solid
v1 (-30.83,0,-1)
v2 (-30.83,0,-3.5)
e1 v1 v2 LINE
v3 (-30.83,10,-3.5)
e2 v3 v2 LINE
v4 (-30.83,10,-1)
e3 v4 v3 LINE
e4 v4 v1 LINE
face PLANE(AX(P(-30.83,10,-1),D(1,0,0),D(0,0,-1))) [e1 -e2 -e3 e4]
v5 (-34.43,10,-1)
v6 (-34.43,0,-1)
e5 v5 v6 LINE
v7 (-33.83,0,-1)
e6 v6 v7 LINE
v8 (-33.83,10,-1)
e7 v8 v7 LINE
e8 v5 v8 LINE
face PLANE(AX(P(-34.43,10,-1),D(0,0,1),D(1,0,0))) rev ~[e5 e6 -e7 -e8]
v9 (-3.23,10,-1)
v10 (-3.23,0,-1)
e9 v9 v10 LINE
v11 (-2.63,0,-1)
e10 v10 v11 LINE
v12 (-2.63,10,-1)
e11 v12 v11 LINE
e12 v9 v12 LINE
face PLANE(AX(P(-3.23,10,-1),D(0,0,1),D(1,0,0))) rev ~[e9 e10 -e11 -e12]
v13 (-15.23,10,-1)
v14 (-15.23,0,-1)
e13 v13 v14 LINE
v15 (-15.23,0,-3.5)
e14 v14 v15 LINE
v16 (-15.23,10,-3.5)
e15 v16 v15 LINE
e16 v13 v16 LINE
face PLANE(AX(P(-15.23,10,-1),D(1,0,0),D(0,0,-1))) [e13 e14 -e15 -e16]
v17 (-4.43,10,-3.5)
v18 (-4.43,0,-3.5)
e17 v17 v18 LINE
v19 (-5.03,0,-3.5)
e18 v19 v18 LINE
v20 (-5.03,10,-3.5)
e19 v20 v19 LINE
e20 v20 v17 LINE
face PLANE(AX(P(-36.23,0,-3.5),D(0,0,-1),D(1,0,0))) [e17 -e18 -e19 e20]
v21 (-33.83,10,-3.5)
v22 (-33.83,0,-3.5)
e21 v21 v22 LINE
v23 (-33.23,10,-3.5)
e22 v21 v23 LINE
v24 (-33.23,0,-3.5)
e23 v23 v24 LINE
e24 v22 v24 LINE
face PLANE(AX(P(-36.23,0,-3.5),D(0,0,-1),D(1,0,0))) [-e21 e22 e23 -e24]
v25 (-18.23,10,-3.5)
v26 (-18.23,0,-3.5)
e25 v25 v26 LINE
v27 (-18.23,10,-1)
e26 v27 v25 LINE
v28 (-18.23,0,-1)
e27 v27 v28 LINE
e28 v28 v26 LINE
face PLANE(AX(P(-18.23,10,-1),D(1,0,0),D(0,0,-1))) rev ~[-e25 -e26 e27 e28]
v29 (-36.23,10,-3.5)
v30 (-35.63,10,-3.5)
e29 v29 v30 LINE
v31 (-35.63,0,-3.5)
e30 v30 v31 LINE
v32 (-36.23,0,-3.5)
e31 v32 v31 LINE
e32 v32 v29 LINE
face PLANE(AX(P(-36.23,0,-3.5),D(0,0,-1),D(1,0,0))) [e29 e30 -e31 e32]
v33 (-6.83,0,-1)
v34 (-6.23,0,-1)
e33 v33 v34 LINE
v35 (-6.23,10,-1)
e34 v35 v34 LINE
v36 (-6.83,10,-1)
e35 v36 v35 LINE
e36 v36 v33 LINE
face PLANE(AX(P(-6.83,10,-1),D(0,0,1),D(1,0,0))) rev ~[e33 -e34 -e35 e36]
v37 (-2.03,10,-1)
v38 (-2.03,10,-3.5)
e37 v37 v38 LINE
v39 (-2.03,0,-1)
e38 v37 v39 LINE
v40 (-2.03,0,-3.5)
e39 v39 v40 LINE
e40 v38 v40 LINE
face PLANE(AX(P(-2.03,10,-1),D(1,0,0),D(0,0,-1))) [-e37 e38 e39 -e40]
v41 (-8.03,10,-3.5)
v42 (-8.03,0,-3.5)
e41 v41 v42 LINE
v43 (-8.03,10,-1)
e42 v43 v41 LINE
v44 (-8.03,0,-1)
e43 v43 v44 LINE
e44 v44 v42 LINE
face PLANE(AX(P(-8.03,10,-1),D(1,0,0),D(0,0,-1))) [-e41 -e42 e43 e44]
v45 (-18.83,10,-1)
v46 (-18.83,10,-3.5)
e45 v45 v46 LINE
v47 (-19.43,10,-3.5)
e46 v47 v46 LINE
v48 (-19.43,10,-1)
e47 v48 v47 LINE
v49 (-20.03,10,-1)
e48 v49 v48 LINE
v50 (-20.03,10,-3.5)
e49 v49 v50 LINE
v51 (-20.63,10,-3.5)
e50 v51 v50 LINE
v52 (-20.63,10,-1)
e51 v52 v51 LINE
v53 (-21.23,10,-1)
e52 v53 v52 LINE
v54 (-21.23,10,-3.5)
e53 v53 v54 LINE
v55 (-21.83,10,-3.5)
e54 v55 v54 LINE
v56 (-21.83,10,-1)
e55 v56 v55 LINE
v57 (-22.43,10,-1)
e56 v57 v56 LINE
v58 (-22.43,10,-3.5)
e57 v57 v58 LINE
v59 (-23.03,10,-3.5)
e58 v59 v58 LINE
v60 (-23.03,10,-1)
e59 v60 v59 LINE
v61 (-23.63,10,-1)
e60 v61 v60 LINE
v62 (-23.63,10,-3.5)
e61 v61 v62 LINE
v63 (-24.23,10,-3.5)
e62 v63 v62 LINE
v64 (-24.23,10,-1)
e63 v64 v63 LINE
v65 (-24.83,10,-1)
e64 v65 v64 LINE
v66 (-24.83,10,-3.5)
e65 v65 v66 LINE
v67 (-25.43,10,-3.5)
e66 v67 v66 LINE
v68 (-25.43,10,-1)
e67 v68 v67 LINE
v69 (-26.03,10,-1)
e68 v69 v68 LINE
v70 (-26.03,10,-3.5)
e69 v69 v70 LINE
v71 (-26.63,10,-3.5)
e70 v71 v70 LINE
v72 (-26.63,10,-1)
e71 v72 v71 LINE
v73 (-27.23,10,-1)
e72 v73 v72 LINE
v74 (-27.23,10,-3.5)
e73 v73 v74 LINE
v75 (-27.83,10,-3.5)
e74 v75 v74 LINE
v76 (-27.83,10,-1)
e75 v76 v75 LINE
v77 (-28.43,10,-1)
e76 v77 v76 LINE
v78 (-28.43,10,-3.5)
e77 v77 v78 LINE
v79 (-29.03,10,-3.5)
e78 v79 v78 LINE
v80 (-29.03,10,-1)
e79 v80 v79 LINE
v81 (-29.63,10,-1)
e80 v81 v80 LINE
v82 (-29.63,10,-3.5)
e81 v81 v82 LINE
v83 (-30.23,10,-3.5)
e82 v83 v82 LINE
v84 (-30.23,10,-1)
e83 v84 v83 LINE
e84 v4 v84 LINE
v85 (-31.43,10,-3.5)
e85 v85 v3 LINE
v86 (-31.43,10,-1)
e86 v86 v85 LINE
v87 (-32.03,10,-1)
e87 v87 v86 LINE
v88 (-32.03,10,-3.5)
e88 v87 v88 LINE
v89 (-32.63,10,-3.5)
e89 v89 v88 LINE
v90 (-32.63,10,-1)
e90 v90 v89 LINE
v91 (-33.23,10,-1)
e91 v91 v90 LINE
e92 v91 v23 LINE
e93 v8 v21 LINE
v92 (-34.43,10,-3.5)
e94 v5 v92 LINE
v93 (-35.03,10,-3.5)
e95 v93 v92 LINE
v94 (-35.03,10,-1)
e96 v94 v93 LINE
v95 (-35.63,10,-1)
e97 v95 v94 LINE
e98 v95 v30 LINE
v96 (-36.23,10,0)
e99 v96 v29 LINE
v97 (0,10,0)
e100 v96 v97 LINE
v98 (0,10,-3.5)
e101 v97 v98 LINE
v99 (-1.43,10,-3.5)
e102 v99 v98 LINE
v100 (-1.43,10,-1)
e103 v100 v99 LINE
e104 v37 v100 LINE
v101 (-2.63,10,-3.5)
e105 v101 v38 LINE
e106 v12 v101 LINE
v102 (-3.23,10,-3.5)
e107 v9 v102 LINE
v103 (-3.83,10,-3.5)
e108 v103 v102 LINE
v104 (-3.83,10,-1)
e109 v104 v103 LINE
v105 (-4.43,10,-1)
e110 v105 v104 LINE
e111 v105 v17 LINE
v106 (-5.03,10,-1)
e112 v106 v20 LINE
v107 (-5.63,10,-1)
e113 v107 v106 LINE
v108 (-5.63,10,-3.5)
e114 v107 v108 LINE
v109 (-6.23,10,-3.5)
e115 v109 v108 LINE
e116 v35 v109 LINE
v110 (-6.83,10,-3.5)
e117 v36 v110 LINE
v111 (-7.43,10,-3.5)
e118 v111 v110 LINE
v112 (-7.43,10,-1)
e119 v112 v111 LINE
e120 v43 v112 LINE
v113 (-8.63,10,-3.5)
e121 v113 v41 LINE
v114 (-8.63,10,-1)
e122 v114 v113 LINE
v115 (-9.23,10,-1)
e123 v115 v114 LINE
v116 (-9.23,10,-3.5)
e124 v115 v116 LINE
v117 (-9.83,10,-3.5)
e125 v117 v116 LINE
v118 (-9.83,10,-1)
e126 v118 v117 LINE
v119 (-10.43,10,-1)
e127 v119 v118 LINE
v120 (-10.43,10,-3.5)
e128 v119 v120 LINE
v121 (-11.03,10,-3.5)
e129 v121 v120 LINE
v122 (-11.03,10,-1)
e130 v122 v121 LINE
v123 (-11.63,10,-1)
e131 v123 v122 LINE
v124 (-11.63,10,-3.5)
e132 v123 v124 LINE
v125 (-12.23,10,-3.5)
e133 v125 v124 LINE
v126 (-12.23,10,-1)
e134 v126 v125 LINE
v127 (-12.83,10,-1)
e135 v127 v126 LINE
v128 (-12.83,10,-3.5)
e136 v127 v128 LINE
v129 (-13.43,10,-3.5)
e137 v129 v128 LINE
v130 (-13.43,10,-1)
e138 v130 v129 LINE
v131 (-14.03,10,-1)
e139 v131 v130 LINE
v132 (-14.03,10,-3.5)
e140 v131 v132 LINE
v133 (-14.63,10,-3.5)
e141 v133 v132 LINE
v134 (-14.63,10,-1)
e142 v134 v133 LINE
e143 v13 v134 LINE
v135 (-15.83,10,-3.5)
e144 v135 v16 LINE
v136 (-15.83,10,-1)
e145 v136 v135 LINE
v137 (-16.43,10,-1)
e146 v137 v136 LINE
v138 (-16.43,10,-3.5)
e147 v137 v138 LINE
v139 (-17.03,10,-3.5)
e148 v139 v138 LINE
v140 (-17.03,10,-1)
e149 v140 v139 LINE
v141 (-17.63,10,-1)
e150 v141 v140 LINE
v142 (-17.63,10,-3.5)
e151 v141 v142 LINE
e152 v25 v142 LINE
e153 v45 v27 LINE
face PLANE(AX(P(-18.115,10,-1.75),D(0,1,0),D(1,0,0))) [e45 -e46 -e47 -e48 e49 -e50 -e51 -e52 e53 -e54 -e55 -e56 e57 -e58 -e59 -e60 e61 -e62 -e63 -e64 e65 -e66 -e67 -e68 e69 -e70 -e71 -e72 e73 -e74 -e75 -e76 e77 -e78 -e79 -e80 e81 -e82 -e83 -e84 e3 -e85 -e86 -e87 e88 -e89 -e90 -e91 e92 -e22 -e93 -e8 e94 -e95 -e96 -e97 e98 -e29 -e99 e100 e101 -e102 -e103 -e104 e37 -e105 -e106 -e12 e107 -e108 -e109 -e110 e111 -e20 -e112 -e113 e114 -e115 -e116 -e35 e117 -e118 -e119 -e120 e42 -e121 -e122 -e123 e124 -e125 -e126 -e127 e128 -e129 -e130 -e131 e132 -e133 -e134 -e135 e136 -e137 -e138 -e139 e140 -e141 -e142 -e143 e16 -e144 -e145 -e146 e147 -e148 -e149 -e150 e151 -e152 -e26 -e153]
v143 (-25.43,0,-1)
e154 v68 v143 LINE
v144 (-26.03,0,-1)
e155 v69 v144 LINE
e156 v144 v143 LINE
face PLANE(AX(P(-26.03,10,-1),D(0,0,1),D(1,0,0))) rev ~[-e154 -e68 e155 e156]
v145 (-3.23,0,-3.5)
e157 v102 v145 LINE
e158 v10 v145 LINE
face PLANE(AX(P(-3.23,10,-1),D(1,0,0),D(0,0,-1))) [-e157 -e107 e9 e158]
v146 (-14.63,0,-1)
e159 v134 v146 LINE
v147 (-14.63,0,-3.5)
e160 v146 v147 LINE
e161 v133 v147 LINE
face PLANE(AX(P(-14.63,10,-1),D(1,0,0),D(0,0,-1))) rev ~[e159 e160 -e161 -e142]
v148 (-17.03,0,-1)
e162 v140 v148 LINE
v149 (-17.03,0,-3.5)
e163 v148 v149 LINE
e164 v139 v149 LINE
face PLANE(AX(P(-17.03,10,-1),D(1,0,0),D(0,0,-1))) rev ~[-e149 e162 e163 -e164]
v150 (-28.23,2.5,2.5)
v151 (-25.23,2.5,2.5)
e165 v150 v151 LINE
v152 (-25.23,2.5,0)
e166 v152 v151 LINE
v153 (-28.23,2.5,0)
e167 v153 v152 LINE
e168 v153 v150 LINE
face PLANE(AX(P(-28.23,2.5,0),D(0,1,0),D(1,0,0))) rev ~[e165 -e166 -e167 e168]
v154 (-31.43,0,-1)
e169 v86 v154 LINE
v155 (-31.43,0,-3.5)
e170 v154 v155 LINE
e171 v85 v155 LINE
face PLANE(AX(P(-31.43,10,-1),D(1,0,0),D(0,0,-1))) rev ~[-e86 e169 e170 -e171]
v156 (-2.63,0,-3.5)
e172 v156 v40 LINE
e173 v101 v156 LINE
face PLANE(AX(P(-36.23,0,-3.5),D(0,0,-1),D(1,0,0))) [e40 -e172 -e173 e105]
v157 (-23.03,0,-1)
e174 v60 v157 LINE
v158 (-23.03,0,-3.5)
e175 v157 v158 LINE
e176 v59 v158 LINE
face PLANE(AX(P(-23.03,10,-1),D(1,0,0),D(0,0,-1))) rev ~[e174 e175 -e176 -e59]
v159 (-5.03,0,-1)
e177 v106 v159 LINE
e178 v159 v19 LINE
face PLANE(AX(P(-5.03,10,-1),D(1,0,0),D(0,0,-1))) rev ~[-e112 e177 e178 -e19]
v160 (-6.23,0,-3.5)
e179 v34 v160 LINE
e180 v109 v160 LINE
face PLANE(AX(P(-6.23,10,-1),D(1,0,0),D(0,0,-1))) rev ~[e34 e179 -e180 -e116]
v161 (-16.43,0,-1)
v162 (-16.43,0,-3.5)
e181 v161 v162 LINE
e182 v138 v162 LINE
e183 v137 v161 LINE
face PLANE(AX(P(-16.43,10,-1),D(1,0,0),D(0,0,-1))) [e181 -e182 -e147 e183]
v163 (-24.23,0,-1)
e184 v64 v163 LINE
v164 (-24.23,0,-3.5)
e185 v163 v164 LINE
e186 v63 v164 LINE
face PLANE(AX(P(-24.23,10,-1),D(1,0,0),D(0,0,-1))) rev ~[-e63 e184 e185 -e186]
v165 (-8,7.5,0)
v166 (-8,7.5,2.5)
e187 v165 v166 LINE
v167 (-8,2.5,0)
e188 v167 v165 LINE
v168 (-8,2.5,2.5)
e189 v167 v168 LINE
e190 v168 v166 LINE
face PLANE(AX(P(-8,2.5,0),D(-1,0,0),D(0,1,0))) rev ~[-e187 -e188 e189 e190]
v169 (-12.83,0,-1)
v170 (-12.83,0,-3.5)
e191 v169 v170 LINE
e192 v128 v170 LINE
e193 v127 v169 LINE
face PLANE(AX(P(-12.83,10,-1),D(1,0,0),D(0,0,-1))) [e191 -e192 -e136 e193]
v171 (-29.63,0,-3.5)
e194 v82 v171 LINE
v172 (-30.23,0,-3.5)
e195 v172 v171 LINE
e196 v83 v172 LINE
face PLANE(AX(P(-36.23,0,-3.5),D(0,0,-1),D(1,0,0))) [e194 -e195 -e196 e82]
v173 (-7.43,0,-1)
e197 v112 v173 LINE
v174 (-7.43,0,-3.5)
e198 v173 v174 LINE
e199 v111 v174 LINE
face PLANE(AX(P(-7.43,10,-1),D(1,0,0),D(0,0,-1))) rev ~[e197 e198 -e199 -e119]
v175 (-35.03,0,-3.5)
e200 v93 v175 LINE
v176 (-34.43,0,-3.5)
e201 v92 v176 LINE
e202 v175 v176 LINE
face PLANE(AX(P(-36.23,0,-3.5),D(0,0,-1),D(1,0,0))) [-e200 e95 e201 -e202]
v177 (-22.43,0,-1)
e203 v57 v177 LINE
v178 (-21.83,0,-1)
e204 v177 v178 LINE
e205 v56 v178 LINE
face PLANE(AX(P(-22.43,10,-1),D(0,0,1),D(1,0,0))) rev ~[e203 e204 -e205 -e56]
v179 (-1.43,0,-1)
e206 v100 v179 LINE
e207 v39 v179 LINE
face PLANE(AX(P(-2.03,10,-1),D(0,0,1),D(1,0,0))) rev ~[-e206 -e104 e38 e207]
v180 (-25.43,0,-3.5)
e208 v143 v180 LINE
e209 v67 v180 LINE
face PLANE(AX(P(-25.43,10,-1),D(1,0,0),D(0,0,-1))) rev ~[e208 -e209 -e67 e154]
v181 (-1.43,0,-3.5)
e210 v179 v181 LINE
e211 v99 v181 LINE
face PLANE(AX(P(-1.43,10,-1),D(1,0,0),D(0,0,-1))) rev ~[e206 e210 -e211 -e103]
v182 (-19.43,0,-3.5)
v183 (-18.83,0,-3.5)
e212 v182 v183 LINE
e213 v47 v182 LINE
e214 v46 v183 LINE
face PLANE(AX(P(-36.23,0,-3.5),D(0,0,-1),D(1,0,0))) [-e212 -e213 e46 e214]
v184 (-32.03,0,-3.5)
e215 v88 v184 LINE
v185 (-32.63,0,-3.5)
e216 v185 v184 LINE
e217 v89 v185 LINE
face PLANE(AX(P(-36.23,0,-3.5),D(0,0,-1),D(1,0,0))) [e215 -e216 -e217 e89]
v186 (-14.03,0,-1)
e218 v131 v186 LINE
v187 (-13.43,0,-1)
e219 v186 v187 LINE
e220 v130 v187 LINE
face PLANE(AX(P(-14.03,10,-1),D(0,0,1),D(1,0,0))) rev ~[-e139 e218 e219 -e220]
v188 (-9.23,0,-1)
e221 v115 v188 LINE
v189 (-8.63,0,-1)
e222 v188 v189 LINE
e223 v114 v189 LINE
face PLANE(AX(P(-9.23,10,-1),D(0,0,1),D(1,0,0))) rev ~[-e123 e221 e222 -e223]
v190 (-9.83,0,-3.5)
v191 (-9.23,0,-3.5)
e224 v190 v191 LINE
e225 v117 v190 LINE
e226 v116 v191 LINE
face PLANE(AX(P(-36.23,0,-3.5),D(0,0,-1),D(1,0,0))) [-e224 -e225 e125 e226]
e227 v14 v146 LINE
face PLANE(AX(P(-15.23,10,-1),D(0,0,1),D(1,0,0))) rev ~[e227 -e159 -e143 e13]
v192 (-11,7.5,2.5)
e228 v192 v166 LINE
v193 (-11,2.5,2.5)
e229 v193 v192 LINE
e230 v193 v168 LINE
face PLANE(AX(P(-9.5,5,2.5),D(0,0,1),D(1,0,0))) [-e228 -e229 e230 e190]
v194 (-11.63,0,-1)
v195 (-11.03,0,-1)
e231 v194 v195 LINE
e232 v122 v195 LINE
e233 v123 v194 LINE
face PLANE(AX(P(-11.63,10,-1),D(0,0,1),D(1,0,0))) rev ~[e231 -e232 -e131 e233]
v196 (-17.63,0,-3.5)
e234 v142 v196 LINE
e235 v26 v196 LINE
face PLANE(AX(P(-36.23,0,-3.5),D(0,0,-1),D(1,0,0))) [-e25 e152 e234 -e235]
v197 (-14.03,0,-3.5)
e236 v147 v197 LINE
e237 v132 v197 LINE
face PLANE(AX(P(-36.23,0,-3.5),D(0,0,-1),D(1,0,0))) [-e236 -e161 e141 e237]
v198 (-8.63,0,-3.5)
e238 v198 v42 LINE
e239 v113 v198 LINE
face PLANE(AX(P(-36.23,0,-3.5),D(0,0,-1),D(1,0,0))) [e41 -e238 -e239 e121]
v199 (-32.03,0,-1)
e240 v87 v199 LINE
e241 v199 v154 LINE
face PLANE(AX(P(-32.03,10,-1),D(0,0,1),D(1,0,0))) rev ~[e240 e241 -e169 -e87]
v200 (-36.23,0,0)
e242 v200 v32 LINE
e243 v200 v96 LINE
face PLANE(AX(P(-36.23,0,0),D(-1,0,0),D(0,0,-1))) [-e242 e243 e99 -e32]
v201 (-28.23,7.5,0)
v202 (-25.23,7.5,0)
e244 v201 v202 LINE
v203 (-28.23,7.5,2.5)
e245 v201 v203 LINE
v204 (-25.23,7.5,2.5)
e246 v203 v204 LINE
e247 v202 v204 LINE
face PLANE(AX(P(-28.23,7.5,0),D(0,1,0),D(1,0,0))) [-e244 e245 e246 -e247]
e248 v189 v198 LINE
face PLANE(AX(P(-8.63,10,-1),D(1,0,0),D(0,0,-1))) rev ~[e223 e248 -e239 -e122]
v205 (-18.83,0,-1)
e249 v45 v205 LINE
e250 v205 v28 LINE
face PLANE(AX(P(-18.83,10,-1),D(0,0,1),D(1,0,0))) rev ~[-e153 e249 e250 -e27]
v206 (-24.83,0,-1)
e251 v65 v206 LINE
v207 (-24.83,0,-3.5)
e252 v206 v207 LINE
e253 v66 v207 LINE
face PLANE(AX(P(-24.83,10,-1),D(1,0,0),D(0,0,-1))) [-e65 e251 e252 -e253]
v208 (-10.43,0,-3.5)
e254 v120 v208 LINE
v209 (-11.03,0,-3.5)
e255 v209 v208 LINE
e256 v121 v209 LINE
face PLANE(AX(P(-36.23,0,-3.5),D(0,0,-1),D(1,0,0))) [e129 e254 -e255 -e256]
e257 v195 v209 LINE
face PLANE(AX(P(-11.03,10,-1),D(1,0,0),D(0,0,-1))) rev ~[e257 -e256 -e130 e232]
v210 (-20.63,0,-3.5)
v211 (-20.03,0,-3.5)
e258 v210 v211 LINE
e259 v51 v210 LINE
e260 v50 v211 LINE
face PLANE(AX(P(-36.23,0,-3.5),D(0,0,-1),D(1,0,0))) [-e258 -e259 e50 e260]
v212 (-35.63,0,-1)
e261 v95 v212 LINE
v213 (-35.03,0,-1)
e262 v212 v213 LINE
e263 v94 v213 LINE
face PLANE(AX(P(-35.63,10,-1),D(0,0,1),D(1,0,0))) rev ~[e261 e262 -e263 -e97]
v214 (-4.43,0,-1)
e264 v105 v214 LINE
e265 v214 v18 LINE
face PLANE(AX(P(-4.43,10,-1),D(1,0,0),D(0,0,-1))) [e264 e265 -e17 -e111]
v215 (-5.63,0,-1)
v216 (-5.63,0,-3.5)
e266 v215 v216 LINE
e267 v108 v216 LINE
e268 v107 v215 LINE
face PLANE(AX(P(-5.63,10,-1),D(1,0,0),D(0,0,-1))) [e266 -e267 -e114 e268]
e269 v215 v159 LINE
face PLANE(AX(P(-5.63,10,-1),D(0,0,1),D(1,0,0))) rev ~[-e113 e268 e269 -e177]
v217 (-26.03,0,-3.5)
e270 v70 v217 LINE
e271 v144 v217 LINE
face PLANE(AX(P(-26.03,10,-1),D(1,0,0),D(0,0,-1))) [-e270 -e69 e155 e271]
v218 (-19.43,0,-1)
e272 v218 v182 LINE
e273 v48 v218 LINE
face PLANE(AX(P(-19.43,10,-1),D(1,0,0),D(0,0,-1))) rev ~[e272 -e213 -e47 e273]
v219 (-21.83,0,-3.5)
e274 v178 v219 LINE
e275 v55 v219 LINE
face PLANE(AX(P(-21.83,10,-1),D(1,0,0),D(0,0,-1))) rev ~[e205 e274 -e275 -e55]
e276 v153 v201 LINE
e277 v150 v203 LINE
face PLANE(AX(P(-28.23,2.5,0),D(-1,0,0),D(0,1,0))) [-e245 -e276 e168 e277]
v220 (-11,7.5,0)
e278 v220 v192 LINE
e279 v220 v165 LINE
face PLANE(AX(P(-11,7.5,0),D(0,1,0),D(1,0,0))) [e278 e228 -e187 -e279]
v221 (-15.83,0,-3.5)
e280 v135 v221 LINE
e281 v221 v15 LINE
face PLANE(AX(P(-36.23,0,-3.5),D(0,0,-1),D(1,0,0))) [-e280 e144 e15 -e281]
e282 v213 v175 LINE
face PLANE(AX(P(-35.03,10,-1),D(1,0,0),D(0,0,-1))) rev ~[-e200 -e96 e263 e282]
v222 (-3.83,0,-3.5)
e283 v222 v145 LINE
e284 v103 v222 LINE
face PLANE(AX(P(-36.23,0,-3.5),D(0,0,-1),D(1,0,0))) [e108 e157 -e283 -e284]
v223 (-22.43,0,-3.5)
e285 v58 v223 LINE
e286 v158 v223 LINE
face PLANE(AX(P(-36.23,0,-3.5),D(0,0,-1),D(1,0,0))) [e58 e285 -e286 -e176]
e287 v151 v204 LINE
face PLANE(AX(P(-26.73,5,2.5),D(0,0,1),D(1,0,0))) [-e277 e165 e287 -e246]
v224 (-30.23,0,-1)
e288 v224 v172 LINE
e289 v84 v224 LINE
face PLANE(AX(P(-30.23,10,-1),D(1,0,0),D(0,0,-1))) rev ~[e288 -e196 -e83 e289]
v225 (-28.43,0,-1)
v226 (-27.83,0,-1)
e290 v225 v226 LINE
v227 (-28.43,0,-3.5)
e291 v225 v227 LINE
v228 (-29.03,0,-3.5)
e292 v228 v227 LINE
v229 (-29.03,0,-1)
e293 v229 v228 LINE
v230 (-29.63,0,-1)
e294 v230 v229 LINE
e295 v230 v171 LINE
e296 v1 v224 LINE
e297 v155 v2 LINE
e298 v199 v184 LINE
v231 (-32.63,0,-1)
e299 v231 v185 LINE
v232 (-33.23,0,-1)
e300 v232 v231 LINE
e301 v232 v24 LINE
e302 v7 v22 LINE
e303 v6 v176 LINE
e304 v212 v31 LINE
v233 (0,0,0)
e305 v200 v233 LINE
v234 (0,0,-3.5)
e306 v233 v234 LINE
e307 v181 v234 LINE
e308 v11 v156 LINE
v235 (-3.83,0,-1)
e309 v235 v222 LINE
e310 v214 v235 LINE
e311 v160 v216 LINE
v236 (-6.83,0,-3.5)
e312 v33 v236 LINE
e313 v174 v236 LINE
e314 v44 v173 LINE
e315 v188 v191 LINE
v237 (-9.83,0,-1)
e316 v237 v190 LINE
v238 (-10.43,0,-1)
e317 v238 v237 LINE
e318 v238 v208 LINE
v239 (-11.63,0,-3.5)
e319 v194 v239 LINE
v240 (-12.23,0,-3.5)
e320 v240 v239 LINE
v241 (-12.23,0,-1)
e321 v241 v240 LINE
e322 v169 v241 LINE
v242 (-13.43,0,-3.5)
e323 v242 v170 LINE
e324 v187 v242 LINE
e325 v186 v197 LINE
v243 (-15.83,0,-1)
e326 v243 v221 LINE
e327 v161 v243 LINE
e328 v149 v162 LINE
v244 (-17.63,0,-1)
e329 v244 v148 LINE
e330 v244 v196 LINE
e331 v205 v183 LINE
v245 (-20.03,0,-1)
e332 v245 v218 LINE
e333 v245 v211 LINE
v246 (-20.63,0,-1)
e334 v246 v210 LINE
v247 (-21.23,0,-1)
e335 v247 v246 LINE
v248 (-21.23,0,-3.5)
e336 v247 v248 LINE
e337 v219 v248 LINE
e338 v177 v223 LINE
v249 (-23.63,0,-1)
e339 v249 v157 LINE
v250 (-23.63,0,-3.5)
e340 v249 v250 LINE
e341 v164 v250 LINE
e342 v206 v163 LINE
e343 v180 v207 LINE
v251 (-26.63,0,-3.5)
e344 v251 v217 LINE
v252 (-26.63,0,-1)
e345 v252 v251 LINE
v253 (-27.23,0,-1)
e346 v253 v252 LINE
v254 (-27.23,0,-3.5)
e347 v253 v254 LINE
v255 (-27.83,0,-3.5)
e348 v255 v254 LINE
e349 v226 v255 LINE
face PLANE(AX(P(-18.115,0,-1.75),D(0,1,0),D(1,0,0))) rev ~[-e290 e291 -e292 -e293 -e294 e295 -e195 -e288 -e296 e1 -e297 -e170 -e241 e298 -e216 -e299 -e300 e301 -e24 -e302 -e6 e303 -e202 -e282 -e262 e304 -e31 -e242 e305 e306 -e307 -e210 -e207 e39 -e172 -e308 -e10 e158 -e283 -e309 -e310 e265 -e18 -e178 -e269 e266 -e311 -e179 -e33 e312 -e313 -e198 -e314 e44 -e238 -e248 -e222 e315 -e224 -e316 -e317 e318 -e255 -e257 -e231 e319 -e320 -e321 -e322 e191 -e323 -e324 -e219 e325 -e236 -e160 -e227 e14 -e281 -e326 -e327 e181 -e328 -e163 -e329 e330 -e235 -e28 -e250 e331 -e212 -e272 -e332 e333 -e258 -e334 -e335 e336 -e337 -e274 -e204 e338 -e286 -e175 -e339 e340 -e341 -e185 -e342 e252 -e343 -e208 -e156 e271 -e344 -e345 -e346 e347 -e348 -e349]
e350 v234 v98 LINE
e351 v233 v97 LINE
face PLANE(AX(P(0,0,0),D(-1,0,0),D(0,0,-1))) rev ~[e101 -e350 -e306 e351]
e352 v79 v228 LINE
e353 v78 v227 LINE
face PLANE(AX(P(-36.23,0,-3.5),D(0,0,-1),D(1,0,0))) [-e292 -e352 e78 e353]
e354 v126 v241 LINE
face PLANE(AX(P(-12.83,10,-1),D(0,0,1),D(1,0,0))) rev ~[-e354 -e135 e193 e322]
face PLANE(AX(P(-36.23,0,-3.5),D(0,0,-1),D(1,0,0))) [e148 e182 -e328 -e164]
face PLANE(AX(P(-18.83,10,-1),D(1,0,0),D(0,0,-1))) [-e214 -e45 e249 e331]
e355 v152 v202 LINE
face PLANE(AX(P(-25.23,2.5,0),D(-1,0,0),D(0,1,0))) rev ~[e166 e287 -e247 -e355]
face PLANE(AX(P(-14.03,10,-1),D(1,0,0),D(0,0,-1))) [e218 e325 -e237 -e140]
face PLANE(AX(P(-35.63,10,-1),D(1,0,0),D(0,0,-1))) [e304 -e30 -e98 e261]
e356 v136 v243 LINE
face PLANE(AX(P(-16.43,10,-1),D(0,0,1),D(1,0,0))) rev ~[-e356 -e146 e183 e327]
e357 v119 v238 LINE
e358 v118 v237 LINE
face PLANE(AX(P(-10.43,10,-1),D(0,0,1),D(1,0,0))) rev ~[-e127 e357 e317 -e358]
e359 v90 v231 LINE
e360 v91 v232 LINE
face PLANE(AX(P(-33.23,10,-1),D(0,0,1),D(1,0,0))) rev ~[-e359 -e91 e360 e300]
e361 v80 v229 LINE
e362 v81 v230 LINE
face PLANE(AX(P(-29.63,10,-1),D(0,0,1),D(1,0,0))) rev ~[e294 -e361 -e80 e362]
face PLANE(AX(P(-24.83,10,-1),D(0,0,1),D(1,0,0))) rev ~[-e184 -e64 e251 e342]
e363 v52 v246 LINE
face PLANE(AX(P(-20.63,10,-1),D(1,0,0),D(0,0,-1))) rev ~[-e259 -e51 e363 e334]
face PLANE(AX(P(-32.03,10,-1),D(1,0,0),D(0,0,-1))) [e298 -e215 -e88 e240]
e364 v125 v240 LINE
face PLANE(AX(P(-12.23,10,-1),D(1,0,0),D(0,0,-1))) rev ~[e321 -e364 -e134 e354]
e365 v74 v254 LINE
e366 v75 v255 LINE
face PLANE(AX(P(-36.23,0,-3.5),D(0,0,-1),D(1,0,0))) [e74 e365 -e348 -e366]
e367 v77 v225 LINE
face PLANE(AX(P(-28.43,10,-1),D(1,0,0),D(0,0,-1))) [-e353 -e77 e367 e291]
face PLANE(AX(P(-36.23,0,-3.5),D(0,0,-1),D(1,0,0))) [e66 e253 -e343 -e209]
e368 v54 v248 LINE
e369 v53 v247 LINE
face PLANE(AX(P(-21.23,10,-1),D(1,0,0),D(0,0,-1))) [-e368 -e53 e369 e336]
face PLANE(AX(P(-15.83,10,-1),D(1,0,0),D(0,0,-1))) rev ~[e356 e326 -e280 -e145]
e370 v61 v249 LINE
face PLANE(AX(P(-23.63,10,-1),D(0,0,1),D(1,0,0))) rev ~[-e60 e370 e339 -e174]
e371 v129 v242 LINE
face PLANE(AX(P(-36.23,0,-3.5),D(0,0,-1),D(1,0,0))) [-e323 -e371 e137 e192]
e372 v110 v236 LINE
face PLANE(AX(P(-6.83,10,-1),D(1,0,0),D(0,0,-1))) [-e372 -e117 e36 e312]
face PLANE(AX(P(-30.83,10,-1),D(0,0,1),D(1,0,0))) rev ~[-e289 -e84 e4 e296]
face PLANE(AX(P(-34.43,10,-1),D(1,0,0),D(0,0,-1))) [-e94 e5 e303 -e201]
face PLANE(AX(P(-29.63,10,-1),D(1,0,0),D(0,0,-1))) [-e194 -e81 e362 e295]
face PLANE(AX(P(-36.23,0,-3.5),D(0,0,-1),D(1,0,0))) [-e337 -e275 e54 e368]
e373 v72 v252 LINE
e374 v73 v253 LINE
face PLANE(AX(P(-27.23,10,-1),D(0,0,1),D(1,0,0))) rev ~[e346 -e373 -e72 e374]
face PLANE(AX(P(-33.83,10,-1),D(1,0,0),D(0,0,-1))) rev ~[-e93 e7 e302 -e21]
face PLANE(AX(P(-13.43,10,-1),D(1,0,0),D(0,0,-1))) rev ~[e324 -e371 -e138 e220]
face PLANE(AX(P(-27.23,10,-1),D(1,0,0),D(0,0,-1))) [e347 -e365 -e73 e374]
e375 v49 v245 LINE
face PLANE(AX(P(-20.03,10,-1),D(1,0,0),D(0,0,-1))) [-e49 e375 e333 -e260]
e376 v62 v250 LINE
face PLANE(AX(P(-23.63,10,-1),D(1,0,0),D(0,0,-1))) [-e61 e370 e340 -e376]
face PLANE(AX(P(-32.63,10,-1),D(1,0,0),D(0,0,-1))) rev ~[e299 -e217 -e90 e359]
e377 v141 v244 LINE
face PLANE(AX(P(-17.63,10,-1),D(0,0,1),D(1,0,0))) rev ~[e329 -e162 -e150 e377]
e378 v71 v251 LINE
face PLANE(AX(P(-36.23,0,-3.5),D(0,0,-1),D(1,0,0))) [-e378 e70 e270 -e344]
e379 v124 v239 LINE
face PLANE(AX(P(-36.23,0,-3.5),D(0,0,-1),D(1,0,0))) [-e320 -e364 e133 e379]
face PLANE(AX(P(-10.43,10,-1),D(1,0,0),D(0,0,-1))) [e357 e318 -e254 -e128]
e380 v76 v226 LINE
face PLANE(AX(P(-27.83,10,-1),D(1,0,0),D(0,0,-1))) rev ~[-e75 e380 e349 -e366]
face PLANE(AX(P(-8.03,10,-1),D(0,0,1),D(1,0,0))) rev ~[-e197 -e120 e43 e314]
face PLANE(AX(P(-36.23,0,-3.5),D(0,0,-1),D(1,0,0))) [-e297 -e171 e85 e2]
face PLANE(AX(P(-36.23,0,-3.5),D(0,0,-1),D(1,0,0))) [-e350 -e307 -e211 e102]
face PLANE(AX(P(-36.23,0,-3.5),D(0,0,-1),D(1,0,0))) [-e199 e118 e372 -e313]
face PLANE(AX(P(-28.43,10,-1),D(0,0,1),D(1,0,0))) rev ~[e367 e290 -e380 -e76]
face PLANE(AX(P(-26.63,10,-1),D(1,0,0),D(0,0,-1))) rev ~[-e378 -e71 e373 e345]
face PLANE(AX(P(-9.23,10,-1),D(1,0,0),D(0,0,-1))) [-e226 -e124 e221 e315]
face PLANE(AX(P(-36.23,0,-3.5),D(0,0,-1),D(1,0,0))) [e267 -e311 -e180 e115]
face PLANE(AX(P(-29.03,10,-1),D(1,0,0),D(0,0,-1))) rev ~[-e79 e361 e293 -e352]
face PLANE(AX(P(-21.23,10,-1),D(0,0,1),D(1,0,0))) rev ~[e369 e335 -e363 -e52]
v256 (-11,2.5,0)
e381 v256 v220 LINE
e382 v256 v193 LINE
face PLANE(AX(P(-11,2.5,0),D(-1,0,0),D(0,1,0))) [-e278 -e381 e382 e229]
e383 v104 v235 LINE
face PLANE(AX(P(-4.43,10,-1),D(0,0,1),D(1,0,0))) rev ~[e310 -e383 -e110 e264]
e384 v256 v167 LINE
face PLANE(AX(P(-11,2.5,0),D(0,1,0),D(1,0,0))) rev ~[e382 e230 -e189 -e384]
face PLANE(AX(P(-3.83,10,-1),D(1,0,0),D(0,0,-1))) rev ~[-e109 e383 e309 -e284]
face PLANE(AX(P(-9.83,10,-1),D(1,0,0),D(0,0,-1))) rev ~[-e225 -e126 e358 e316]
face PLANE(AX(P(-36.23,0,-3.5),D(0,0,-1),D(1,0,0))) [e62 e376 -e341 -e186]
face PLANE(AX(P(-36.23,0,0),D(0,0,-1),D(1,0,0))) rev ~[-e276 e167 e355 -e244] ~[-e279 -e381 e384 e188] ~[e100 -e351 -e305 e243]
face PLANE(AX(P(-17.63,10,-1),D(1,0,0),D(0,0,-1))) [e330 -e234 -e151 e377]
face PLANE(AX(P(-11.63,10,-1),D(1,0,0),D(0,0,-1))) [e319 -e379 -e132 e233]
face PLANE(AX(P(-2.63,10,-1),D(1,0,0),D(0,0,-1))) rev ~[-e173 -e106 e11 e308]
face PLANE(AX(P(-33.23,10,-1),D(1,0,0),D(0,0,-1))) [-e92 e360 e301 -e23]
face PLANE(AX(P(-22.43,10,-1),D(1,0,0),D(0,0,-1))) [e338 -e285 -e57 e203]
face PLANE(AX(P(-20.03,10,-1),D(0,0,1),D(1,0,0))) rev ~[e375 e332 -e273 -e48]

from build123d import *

# Parameters (mm, degrees)
SKETCH1_W           = 36.23
SKETCH1_H           = 3.5
BOSS_EXTRUDE1_DEPTH = 10
SKETCH3_W           = 3
SKETCH3_H           = 5
BOSS_EXTRUDE2_DEPTH = 2.5
SKETCH4_W           = 0.6
SKETCH4_H           = 2.5
CUT_EXTRUDE1_DEPTH  = 11
LPATTERN1_COUNT     = 29
LPATTERN1_PITCH     = 1.2


with BuildPart() as part:
    # Sketch1 → Boss-Extrude1 (new body)
    with BuildSketch(Plane(origin=(0, 0, 0), x_dir=(1, 0, 0), z_dir=(0, 1, 0))):
        with Locations((-18.115, 1.75)):
            Rectangle(SKETCH1_W, SKETCH1_H)
    extrude(amount=BOSS_EXTRUDE1_DEPTH)

    # Sketch3 → Boss-Extrude2 (add)
    with BuildSketch(Plane.XY):
        with Locations((-26.73, 5)):
            Rectangle(SKETCH3_W, SKETCH3_H)
        with Locations((-9.5, 5)):
            Rectangle(SKETCH3_W, SKETCH3_H)
    extrude(amount=BOSS_EXTRUDE2_DEPTH)

    # Sketch4 → Cut-Extrude1 (cut, through all)
    with BuildSketch(Plane(origin=(0, 10, 0), x_dir=(1, 0, 0), z_dir=(0, 1, 0))):
        with Locations((-35.33, 2.25)):
            Rectangle(SKETCH4_W, SKETCH4_H)
    cut_extrude1 = extrude(amount=-CUT_EXTRUDE1_DEPTH, mode=Mode.SUBTRACT)

    # LPattern1: Cut-Extrude1 ×29
    with Locations(*[(i * LPATTERN1_PITCH, 0, 0) for i in range(1, LPATTERN1_COUNT)]):
        add(cut_extrude1, mode=Mode.SUBTRACT)


solid = part.part
